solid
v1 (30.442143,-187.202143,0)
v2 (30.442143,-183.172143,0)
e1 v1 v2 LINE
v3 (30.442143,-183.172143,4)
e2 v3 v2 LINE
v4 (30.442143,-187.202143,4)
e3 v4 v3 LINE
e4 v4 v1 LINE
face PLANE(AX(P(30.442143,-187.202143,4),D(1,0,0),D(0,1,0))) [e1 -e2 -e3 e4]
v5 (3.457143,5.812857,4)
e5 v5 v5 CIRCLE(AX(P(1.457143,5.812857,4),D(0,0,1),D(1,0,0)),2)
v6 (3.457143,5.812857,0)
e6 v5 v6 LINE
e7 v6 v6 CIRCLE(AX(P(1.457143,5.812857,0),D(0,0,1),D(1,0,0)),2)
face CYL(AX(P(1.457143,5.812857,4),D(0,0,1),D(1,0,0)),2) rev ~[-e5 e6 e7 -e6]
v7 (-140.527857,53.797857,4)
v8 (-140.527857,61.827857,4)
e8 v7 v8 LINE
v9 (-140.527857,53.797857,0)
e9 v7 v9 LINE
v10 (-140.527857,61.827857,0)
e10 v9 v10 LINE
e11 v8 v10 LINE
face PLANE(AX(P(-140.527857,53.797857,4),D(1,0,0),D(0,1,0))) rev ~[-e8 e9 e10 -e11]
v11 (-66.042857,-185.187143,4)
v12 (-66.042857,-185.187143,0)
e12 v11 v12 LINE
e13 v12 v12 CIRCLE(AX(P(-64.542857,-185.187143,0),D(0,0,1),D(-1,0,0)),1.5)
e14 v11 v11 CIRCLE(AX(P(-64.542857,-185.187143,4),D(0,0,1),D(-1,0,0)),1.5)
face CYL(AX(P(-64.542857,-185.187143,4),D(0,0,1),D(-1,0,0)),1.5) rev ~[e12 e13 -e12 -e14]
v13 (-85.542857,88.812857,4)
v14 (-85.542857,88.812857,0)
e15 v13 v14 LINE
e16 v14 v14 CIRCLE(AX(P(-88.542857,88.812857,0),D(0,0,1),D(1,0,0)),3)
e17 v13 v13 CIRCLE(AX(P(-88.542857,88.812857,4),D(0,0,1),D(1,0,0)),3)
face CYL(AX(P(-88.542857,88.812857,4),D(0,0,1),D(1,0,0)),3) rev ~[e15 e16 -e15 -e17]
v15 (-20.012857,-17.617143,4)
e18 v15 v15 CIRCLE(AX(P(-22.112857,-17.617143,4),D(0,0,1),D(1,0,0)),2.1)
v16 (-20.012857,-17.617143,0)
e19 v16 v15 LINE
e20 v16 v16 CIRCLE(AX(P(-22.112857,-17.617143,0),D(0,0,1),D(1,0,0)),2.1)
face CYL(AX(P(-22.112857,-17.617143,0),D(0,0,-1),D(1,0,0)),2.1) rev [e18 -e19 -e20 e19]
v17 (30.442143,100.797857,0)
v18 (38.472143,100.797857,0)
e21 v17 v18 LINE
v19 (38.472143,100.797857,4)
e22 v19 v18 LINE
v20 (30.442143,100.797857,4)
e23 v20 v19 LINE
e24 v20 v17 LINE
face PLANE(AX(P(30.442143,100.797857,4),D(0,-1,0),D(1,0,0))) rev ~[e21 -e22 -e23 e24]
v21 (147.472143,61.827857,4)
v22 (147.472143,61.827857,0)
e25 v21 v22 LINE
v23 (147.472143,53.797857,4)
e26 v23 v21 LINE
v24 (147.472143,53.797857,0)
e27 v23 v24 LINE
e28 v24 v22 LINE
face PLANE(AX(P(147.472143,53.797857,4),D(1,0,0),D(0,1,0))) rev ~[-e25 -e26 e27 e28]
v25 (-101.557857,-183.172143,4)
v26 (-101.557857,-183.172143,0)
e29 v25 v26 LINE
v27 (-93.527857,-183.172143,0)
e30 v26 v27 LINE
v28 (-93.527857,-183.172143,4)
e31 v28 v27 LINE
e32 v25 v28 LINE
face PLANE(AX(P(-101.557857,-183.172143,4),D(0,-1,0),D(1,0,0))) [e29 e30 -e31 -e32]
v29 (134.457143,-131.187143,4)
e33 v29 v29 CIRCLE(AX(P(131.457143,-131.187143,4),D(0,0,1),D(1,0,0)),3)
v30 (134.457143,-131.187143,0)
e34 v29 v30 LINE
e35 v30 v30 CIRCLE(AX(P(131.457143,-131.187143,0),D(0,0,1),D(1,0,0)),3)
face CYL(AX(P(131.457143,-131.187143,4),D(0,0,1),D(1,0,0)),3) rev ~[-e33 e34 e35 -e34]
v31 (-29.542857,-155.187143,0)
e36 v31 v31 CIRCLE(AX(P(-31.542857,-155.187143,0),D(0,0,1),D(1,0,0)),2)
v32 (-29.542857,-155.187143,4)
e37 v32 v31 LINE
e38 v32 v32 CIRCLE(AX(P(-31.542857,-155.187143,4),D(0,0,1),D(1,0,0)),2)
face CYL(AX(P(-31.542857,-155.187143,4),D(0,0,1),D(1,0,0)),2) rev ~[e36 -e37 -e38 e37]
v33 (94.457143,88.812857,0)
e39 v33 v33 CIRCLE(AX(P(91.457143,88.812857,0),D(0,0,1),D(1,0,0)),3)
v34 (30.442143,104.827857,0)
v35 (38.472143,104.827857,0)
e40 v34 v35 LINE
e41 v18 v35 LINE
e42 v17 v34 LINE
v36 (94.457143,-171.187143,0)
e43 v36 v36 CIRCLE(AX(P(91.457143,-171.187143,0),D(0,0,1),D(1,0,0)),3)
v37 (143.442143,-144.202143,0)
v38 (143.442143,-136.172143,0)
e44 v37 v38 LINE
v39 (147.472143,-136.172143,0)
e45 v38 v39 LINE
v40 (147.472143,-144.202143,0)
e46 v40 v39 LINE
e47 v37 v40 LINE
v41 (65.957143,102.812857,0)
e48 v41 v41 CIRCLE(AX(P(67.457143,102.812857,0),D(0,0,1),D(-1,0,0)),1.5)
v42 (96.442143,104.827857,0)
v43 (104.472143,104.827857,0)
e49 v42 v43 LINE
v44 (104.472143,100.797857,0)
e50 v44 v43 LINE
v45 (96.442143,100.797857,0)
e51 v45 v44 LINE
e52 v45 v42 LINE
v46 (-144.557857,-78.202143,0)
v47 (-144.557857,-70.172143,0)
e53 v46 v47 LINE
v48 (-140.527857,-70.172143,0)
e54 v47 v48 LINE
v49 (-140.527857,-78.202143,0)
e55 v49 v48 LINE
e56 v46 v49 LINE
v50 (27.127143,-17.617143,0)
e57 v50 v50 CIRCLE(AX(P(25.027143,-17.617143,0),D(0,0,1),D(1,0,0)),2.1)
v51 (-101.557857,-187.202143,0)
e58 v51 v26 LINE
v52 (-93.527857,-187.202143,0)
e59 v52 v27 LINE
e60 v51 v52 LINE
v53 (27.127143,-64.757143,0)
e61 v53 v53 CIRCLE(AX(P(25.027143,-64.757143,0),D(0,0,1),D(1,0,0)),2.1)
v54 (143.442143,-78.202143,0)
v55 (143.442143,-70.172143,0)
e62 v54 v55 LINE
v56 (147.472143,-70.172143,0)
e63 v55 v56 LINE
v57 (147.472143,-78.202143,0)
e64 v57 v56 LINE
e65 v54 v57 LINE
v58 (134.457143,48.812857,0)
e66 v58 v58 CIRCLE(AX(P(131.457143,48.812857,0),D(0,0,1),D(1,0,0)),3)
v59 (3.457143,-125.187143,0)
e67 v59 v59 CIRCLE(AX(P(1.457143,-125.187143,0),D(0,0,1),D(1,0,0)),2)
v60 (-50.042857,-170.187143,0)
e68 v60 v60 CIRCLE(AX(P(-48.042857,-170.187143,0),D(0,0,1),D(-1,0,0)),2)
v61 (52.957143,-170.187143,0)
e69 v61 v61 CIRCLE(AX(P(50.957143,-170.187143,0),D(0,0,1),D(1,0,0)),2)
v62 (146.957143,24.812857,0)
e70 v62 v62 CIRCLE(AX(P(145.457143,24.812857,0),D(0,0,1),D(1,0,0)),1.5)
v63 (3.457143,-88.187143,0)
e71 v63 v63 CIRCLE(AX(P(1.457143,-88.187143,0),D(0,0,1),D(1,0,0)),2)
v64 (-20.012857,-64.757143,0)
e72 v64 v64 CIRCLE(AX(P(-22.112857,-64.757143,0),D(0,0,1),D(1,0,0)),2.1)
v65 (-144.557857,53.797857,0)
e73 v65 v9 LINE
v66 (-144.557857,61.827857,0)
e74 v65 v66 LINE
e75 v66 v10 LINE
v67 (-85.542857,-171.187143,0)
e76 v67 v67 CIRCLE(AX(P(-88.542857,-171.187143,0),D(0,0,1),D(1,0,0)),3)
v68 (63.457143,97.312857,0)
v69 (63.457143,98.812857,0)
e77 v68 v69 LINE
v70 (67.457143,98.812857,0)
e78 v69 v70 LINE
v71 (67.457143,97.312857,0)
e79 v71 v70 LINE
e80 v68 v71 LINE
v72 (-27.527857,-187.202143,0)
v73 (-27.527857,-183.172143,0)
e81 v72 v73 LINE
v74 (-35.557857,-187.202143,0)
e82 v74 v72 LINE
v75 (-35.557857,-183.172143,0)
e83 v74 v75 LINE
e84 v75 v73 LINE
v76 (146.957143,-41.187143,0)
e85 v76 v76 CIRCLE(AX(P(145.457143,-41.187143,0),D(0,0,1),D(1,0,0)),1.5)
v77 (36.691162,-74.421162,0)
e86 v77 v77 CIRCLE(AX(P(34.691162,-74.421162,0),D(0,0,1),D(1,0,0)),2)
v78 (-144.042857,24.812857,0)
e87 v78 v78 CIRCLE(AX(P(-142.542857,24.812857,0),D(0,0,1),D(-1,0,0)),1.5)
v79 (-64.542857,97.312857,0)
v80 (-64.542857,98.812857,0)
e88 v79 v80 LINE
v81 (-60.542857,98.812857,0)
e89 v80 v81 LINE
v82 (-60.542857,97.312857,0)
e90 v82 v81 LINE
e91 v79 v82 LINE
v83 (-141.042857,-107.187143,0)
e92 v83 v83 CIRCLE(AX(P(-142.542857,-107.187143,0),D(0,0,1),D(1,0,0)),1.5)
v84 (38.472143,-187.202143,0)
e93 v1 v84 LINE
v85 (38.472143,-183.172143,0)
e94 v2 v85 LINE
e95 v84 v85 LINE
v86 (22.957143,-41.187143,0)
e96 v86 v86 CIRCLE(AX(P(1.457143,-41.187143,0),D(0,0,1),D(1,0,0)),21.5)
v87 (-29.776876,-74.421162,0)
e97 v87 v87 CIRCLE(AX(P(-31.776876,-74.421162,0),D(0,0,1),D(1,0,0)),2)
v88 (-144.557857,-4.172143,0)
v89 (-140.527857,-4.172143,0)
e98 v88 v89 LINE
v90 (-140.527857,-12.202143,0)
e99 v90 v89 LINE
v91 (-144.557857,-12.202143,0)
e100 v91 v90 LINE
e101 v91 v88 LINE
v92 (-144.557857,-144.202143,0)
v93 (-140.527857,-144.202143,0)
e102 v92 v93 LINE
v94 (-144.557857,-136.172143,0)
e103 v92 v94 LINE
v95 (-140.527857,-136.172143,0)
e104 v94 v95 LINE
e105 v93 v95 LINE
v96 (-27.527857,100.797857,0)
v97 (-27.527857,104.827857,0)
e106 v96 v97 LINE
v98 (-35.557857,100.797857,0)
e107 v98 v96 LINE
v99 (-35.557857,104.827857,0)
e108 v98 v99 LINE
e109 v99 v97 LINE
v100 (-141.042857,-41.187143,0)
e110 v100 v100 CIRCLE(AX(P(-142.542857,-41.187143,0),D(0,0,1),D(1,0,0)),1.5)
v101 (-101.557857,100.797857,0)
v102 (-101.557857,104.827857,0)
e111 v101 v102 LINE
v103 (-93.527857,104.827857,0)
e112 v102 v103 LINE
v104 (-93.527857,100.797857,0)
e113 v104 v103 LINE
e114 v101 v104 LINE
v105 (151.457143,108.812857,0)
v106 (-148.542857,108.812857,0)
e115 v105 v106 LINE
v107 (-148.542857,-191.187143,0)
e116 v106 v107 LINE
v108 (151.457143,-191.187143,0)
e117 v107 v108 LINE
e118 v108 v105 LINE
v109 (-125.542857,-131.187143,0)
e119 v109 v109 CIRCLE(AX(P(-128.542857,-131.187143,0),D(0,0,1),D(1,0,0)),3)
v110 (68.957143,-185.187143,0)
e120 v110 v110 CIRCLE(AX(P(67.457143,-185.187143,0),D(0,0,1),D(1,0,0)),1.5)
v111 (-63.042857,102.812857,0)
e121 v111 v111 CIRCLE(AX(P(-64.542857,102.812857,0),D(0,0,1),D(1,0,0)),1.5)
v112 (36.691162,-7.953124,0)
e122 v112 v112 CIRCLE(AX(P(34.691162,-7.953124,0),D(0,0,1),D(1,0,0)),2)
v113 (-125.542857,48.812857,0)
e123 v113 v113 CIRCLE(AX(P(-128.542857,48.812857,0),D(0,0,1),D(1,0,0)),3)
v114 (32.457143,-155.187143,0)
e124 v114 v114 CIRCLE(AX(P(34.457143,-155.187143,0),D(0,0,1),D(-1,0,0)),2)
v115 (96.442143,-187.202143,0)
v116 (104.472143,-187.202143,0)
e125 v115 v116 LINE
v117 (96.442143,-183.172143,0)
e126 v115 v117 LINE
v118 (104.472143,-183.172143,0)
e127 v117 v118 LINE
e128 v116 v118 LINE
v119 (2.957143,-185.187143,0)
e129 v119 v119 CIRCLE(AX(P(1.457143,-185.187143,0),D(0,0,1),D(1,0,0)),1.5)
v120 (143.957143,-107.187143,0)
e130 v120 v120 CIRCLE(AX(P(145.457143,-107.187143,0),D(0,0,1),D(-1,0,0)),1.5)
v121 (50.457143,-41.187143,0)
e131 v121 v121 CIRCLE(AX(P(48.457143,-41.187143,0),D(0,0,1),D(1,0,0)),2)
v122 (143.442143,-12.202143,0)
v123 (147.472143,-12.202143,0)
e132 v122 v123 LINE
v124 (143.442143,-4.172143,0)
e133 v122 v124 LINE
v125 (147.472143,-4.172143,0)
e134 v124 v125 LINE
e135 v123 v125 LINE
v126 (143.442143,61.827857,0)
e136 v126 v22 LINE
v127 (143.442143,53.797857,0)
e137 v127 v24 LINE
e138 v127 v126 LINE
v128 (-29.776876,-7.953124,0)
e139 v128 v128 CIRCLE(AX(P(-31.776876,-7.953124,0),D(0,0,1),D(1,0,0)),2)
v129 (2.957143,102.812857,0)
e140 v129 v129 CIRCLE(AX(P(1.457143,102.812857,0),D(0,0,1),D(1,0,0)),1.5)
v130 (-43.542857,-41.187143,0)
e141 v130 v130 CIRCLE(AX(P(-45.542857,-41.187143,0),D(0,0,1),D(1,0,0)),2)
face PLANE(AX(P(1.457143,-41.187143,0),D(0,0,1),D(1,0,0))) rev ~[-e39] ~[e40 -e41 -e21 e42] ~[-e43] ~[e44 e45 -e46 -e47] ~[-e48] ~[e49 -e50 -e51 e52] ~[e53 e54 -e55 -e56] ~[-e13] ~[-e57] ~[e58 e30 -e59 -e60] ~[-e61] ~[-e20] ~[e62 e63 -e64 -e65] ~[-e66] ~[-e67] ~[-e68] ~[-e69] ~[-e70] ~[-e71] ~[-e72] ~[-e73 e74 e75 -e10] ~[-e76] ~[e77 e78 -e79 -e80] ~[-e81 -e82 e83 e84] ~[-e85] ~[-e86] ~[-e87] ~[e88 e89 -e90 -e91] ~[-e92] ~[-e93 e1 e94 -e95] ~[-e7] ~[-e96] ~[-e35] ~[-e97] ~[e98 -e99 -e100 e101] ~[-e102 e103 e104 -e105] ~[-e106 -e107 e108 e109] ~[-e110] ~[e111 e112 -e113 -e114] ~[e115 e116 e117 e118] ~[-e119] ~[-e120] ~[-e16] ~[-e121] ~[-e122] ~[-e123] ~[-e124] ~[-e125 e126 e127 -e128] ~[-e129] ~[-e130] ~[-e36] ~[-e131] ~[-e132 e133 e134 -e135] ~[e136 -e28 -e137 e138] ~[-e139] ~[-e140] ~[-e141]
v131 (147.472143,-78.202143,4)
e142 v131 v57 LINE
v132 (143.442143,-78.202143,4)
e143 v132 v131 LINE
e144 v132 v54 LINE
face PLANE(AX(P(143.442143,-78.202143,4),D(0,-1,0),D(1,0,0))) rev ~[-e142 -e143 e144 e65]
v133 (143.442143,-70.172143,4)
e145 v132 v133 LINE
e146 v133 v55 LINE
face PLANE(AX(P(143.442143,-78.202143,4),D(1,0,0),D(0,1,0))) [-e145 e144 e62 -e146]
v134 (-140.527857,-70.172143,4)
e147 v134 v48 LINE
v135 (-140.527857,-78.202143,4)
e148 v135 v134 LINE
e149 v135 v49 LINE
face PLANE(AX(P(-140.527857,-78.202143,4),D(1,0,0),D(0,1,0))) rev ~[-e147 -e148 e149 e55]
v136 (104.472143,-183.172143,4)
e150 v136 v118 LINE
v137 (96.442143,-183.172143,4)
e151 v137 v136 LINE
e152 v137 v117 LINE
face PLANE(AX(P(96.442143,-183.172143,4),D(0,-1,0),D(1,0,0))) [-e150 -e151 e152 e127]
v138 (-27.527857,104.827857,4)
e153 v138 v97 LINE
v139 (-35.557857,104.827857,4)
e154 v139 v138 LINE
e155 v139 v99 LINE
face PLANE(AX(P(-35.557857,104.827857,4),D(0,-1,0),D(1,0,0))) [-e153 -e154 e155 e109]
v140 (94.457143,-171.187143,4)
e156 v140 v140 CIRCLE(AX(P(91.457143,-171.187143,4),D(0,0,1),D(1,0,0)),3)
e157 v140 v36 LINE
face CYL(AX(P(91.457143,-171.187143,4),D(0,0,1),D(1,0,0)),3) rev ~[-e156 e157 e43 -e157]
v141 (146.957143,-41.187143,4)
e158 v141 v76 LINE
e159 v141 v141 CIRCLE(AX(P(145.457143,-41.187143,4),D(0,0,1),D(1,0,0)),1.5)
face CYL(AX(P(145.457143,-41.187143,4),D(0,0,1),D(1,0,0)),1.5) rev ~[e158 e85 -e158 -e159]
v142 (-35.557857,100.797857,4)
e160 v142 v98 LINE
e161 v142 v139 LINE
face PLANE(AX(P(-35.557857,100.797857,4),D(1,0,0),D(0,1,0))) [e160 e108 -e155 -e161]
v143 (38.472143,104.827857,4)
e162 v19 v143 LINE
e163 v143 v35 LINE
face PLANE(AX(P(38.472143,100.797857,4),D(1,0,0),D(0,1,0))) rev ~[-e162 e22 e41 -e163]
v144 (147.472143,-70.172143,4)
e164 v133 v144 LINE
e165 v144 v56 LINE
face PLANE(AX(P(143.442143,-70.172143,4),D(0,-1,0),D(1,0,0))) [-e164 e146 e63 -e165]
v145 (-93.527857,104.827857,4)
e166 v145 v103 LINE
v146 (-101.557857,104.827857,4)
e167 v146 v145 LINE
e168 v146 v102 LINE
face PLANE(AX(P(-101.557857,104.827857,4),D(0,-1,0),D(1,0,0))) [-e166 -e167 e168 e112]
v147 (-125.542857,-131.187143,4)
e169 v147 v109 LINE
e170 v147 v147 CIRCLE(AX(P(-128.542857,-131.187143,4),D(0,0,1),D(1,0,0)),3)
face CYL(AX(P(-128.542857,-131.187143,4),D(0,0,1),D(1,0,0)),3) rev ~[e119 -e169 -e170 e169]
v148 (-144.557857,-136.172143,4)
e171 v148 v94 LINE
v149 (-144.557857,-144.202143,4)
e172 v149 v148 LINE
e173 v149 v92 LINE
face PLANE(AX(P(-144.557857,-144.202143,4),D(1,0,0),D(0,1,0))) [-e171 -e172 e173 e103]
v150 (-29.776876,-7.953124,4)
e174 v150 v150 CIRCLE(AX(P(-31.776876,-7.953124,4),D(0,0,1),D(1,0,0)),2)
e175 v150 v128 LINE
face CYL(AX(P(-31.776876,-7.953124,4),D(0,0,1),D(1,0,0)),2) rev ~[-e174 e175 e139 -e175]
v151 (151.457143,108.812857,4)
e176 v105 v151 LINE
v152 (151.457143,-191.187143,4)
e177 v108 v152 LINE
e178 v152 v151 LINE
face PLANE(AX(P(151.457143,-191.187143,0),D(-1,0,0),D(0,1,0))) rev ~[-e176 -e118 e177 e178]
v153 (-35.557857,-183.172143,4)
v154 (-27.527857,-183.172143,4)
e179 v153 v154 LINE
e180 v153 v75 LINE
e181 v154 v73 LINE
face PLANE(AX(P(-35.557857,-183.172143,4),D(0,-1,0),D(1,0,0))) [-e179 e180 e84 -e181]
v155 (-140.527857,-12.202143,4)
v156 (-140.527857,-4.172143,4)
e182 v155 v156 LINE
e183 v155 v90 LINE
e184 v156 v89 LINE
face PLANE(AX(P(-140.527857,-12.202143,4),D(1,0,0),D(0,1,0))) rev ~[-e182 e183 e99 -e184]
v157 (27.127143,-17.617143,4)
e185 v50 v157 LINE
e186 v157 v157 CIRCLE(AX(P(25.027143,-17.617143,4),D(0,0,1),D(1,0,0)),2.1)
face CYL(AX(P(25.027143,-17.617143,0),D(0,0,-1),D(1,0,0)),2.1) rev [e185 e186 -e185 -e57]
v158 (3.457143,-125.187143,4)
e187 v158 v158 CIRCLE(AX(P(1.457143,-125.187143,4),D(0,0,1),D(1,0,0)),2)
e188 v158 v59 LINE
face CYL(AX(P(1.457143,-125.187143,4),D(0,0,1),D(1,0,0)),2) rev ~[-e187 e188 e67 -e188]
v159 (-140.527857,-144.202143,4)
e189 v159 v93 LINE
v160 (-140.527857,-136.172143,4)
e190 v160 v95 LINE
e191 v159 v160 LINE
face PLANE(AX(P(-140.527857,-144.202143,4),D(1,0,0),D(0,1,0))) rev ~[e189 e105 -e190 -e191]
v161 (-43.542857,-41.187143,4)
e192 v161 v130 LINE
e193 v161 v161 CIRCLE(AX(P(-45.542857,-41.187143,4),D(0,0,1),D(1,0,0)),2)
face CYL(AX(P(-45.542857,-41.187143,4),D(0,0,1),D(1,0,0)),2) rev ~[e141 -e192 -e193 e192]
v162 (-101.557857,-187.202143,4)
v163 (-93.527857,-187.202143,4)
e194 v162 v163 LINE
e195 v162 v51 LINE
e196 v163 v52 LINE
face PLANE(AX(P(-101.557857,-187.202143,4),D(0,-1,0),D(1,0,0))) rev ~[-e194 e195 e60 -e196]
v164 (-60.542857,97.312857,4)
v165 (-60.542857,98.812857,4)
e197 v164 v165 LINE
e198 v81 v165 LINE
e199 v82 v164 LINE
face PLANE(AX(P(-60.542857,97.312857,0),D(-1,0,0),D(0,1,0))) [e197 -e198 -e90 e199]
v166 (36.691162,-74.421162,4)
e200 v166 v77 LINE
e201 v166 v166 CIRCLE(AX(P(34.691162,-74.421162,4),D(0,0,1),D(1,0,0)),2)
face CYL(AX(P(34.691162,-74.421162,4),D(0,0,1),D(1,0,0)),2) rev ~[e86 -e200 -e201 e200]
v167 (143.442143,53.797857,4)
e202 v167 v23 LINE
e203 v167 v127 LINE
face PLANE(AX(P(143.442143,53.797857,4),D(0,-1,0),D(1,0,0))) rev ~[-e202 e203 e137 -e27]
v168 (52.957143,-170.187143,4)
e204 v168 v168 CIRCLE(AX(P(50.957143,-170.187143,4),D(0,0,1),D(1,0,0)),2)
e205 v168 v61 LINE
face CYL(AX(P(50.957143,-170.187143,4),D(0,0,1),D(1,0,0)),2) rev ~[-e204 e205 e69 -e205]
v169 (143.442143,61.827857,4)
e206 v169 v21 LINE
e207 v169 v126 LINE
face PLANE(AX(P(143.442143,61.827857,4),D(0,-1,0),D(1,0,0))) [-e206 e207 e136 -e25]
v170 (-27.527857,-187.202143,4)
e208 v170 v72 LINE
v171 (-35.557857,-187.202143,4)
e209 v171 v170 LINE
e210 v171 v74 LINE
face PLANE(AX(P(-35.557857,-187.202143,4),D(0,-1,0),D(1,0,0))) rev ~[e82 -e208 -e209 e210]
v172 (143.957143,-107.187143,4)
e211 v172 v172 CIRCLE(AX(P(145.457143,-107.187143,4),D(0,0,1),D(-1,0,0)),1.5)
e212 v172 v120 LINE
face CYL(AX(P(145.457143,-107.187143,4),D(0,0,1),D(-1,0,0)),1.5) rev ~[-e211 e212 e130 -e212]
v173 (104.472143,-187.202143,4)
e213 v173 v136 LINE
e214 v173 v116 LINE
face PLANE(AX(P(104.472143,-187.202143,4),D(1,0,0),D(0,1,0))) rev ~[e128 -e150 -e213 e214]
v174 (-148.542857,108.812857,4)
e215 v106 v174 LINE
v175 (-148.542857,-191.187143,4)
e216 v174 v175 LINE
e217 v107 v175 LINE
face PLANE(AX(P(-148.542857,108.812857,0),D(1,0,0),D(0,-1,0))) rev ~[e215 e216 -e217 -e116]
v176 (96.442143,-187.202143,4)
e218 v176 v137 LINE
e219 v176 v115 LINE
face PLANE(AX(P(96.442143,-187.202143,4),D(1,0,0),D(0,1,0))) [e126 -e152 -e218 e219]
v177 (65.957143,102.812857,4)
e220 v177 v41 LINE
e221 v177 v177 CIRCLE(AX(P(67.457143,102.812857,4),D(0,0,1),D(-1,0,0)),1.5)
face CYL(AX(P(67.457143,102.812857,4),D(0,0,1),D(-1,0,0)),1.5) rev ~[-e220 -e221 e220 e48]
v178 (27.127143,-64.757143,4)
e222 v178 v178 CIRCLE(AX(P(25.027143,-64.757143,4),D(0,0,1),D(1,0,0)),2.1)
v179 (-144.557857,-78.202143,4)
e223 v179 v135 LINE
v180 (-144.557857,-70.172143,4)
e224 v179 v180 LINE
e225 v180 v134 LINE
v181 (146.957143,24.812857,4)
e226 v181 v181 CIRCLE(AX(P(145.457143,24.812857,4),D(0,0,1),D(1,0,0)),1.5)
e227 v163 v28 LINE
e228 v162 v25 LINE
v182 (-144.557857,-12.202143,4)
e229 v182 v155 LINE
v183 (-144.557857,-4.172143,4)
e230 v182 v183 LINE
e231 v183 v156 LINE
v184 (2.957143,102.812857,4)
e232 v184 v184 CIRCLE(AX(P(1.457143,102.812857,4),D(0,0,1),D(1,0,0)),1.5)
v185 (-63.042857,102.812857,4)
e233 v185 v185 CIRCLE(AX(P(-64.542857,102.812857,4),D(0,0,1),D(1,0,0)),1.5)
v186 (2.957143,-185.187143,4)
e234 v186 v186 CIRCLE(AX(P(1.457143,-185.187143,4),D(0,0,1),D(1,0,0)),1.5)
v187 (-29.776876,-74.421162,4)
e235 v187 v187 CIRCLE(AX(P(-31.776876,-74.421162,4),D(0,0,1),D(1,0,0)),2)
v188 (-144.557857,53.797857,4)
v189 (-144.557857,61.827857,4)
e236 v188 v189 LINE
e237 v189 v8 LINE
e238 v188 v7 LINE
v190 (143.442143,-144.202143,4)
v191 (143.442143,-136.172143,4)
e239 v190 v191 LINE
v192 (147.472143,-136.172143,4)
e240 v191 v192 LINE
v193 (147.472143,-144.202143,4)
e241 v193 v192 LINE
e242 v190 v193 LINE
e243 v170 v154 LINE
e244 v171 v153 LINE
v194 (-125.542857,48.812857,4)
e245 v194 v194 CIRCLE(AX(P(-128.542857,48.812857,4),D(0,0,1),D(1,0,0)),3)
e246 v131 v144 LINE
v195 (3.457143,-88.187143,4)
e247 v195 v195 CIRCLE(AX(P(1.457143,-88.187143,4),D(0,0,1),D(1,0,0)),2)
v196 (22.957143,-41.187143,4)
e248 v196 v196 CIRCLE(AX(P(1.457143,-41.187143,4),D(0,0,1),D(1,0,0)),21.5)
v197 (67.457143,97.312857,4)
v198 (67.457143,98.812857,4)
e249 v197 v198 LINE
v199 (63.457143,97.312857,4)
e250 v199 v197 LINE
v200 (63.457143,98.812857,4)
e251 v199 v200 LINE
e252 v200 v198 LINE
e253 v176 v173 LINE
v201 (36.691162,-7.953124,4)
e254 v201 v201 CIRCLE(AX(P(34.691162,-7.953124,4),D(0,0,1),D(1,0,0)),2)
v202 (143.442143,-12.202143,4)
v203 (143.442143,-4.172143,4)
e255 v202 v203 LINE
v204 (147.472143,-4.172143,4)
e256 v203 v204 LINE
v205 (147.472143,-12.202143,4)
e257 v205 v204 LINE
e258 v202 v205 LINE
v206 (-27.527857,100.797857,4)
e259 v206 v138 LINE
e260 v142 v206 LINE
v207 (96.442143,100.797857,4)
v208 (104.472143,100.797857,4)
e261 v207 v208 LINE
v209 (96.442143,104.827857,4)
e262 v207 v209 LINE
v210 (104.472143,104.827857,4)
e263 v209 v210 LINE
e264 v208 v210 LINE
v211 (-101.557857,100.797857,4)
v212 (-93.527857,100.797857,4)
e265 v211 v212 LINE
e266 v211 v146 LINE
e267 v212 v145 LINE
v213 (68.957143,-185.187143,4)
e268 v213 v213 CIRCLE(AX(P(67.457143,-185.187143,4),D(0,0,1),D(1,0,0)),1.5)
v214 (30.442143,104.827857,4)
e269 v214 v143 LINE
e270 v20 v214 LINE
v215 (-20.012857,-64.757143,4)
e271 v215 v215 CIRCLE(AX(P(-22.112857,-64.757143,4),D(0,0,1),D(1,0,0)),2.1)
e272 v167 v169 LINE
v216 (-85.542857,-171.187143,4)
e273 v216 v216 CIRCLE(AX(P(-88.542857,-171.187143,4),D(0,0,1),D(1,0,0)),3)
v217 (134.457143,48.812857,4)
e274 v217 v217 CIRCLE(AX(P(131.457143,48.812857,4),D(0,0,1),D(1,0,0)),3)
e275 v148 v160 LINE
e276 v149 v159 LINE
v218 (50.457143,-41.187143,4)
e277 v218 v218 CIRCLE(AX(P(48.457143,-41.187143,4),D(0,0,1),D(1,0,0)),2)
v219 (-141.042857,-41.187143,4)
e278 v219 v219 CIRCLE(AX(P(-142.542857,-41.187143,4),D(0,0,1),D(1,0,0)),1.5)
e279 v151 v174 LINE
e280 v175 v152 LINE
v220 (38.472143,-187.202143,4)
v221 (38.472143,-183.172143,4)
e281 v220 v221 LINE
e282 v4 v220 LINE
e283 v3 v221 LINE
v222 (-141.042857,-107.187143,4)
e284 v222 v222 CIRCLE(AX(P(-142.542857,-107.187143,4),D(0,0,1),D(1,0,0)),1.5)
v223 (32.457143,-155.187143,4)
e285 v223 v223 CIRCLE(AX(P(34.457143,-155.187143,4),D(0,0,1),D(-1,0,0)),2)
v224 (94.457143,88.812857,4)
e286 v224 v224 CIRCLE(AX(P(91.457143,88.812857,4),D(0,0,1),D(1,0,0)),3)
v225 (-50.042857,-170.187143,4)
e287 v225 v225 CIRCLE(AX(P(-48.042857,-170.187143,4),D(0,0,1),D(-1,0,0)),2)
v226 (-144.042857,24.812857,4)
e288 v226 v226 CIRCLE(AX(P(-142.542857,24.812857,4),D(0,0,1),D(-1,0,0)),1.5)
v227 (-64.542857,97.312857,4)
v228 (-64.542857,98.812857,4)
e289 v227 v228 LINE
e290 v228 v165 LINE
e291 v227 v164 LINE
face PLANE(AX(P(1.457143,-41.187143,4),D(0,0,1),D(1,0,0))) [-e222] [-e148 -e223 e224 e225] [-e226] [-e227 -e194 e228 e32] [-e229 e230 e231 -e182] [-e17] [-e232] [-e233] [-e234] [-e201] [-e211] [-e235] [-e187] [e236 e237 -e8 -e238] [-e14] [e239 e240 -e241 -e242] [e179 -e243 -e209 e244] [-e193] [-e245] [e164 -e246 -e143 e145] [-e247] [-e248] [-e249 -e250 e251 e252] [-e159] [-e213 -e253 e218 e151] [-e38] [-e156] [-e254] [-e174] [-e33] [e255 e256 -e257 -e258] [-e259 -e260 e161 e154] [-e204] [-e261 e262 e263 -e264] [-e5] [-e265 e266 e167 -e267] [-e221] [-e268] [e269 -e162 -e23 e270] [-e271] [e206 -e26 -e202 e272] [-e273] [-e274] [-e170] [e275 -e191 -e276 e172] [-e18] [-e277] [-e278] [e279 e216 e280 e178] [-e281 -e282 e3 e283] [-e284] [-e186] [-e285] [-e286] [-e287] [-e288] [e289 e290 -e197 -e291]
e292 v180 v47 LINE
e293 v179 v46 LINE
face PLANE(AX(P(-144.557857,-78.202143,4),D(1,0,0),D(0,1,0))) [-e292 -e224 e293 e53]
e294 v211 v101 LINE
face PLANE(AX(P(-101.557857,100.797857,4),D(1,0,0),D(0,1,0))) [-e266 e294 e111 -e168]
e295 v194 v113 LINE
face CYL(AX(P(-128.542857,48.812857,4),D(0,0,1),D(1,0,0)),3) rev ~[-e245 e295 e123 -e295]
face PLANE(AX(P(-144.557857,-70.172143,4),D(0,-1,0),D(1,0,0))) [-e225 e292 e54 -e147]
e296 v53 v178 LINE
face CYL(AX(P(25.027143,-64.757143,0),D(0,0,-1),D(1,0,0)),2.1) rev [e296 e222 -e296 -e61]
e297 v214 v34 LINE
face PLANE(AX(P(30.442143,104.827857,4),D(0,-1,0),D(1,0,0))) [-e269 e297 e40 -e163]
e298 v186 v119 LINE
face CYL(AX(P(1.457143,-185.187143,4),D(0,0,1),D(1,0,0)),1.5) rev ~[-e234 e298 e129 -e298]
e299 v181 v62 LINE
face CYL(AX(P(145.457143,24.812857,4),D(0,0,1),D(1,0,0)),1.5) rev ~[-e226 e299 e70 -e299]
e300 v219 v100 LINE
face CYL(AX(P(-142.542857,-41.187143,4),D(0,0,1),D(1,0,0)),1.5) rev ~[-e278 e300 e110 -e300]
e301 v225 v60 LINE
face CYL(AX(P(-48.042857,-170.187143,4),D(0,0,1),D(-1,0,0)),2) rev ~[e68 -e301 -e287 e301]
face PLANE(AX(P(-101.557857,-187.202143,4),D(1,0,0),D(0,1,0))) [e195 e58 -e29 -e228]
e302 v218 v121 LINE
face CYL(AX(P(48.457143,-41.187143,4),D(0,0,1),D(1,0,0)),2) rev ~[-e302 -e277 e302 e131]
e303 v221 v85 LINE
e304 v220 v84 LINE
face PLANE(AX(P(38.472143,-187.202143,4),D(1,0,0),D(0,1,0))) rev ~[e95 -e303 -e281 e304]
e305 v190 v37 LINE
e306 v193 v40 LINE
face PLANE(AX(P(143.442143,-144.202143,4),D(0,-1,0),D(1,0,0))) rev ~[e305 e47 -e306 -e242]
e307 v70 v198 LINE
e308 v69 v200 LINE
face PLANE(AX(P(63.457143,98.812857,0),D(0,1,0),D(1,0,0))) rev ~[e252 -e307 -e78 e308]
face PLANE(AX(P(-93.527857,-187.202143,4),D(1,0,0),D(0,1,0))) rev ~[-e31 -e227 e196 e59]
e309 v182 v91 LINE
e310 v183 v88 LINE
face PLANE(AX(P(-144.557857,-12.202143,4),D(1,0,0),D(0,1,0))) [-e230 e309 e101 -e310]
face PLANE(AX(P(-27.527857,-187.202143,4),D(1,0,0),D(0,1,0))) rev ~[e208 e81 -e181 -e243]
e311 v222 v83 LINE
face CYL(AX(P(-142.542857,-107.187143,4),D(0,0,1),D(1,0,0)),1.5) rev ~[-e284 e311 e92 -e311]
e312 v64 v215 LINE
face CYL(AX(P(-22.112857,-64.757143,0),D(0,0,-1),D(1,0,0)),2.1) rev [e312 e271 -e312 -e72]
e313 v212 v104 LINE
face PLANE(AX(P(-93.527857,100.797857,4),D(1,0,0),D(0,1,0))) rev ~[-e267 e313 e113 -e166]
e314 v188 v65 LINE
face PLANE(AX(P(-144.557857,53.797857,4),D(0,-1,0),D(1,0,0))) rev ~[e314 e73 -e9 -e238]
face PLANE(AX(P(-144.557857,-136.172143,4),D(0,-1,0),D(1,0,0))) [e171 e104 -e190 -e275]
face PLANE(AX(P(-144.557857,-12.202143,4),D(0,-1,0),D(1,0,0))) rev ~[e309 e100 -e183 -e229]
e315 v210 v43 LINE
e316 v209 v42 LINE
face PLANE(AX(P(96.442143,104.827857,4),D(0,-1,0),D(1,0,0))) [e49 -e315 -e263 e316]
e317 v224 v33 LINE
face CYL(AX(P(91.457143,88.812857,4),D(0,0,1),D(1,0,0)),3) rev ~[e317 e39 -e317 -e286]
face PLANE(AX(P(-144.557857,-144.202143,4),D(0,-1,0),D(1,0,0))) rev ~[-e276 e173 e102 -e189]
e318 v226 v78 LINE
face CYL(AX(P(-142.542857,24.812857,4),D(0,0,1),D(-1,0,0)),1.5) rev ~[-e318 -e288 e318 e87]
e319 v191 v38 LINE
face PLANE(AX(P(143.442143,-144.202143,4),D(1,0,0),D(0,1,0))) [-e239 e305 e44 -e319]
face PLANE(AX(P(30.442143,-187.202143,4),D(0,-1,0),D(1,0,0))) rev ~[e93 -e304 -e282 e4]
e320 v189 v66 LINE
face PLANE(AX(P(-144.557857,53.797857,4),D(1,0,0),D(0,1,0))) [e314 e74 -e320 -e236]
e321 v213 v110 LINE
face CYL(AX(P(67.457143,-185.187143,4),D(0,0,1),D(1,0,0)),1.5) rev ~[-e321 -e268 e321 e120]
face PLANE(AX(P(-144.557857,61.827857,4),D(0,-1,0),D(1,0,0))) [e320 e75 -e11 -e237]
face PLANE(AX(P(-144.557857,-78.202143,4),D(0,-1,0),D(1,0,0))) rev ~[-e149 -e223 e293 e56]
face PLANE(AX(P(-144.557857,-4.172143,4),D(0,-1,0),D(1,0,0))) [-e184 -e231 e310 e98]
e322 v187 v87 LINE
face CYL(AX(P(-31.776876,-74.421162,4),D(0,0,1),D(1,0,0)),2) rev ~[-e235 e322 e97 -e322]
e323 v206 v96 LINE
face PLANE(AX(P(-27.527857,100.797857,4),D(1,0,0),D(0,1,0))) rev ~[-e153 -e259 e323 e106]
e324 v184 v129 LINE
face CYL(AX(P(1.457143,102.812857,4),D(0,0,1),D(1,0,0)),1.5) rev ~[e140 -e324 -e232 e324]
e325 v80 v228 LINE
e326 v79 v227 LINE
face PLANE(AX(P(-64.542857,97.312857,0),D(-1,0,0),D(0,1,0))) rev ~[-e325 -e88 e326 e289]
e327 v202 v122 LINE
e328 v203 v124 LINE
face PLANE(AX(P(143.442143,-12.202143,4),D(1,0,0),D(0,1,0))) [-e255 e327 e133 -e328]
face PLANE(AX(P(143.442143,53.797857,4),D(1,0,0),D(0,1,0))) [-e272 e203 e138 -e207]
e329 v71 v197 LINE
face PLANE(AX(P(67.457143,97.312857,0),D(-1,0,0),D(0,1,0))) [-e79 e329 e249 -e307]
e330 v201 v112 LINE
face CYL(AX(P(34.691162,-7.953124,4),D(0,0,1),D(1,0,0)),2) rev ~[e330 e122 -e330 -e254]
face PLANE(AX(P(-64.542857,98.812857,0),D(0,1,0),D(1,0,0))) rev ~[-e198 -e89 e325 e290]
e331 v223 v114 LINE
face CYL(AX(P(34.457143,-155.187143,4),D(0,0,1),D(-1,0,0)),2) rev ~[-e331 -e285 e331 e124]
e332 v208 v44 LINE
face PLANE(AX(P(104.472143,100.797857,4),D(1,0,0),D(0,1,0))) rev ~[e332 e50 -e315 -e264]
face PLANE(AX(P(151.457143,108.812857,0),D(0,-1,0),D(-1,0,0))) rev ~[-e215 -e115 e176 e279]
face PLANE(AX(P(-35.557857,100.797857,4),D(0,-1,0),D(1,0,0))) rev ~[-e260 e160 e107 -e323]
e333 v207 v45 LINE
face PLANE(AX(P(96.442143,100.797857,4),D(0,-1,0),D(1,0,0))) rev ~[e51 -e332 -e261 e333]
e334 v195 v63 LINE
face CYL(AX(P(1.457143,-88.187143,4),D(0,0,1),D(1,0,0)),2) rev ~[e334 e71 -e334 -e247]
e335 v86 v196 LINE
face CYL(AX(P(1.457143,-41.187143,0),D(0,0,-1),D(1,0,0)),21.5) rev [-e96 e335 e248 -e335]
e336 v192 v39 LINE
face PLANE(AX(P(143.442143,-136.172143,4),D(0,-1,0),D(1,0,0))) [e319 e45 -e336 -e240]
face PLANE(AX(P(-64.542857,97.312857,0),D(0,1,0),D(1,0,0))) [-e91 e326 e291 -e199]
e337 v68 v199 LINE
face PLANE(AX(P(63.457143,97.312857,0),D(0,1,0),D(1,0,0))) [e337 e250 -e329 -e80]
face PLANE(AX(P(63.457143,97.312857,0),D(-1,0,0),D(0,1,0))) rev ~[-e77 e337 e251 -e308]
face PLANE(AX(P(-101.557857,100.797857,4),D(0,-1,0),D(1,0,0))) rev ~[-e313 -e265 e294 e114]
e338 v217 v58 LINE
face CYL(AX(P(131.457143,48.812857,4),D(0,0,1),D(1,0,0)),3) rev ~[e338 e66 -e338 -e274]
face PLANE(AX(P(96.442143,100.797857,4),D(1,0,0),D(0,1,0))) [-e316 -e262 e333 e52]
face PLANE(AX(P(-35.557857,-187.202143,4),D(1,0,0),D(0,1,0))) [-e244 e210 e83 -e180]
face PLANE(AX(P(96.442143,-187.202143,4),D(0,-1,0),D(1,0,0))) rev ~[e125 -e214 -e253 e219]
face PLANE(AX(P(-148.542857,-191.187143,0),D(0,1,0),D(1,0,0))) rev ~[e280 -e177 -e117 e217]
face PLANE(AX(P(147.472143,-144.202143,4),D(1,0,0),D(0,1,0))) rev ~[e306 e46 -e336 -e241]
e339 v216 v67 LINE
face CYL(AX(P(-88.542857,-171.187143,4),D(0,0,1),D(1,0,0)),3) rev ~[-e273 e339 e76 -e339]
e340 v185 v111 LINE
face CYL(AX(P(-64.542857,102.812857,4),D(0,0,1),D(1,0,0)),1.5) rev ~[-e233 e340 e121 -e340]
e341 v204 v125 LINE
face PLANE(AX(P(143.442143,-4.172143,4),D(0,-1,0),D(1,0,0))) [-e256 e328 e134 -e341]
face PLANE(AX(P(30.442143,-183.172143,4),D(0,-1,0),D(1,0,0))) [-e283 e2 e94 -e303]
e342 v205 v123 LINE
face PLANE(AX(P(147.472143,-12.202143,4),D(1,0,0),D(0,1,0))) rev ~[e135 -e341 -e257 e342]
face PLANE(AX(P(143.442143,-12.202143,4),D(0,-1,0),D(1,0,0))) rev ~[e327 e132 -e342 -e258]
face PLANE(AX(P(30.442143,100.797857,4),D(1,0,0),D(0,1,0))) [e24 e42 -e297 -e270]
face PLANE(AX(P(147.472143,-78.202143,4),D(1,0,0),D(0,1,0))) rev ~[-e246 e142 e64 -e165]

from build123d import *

# Parameters (mm, degrees)
SKETCH_1_R          = 21.5
SKETCH_1_R_2        = 2.1
SKETCH_1_W          = 4
SKETCH_1_H          = 1.5
EXTRUDE_1_DEPTH     = 4
SKETCH_3_R          = 1.5
SKETCH_3_R_2        = 2
SKETCH_3_W          = 8.03
SKETCH_3_H          = 4.03
SKETCH_3_W_2        = 4.03
SKETCH_3_H_2        = 8.03
CUT_EXTRUDE_2_DEPTH = 4
SKETCH_7_R          = 3
CUT_EXTRUDE_3_DEPTH = 10


with BuildPart() as part:
    # 草图1 → 凸台-拉伸1 (new body)
    with BuildSketch(Plane.XY):
        Polygon((151.457142857, -41.187142857), (151.457142857, 108.812857143), (-148.542857143, 108.812857143), (-148.542857143, -191.187142857), (151.457142857, -191.187142857), align=None)
        with Locations((1.457142857, -41.187142857)):
            Circle(SKETCH_1_R, mode=Mode.SUBTRACT)
        with Locations((25.027142857, -17.617142857)):
            Circle(SKETCH_1_R_2, mode=Mode.SUBTRACT)
        with Locations((25.027142857, -64.757142857)):
            Circle(SKETCH_1_R_2, mode=Mode.SUBTRACT)
        with Locations((-22.112857143, -64.757142857)):
            Circle(SKETCH_1_R_2, mode=Mode.SUBTRACT)
        with Locations((-22.112857143, -17.617142857)):
            Circle(SKETCH_1_R_2, mode=Mode.SUBTRACT)
        with Locations((65.457142857, 98.062857143)):
            Rectangle(SKETCH_1_W, SKETCH_1_H, mode=Mode.SUBTRACT)
        with Locations((-62.542857143, 98.062857143)):
            Rectangle(SKETCH_1_W, SKETCH_1_H, mode=Mode.SUBTRACT)
    extrude(amount=EXTRUDE_1_DEPTH)

    # 草图3 → 切除-拉伸2 (cut)
    with BuildSketch(Plane.XY.offset(4)):
        with Locations((1.457142857, -185.187142857)):
            Circle(SKETCH_3_R)
        with Locations((67.457142857, -185.187142857)):
            Circle(SKETCH_3_R)
        with Locations(Location((-64.542857143, -185.187142857, 0), (0, 0, 180))):
            Circle(SKETCH_3_R)
        with Locations(Location((-142.542857143, 24.812857143, 0), (0, 0, 180))):
            Circle(SKETCH_3_R)
        with Locations((-142.542857143, -41.187142857)):
            Circle(SKETCH_3_R)
        with Locations((-142.542857143, -107.187142857)):
            Circle(SKETCH_3_R)
        with Locations(Location((67.457142857, 102.812857143, 0), (0, 0, 180))):
            Circle(SKETCH_3_R)
        with Locations((1.457142857, 102.812857143)):
            Circle(SKETCH_3_R)
        with Locations((-64.542857143, 102.812857143)):
            Circle(SKETCH_3_R)
        with Locations(Location((145.457142857, -107.187142857, 0), (0, 0, 180))):
            Circle(SKETCH_3_R)
        with Locations((145.457142857, -41.187142857)):
            Circle(SKETCH_3_R)
        with Locations((145.457142857, 24.812857143)):
            Circle(SKETCH_3_R)
        with Locations((50.957142857, -170.187142857)):
            Circle(SKETCH_3_R_2)
        with Locations(Location((-48.042857143, -170.187142857, 0), (0, 0, 180))):
            Circle(SKETCH_3_R_2)
        with Locations((-31.542857143, -155.187142857)):
            Circle(SKETCH_3_R_2)
        with Locations(Location((34.457142857, -155.187142857, 0), (0, 0, 180))):
            Circle(SKETCH_3_R_2)
        with Locations((1.457142857, -88.187142857)):
            Circle(SKETCH_3_R_2)
        with Locations((-31.776875859, -74.421161573)):
            Circle(SKETCH_3_R_2)
        with Locations((-45.542857143, -41.187142857)):
            Circle(SKETCH_3_R_2)
        with Locations((-31.776875859, -7.953124141)):
            Circle(SKETCH_3_R_2)
        with Locations((1.457142857, 5.812857143)):
            Circle(SKETCH_3_R_2)
        with Locations((34.691161573, -7.953124141)):
            Circle(SKETCH_3_R_2)
        with Locations((48.457142857, -41.187142857)):
            Circle(SKETCH_3_R_2)
        with Locations((34.691161573, -74.421161573)):
            Circle(SKETCH_3_R_2)
        with Locations((1.457142857, -125.187142857)):
            Circle(SKETCH_3_R_2)
        with Locations((100.457142857, -185.187142857)):
            Rectangle(SKETCH_3_W, SKETCH_3_H)
        with Locations((34.457142857, -185.187142857)):
            Rectangle(SKETCH_3_W, SKETCH_3_H)
        with Locations((-31.542857143, -185.187142857)):
            Rectangle(SKETCH_3_W, SKETCH_3_H)
        with Locations((-97.542857143, -185.187142857)):
            Rectangle(SKETCH_3_W, SKETCH_3_H)
        with Locations((-142.542857143, 57.812857143)):
            Rectangle(SKETCH_3_W_2, SKETCH_3_H_2)
        with Locations((-142.542857143, -8.187142857)):
            Rectangle(SKETCH_3_W_2, SKETCH_3_H_2)
        with Locations((-142.542857143, -74.187142857)):
            Rectangle(SKETCH_3_W_2, SKETCH_3_H_2)
        with Locations((-142.542857143, -140.187142857)):
            Rectangle(SKETCH_3_W_2, SKETCH_3_H_2)
        with Locations((100.457142857, 102.812857143)):
            Rectangle(SKETCH_3_W, SKETCH_3_H)
        with Locations((34.457142857, 102.812857143)):
            Rectangle(SKETCH_3_W, SKETCH_3_H)
        with Locations((-31.542857143, 102.812857143)):
            Rectangle(SKETCH_3_W, SKETCH_3_H)
        with Locations((-97.542857143, 102.812857143)):
            Rectangle(SKETCH_3_W, SKETCH_3_H)
        with Locations((145.457142857, -140.187142857)):
            Rectangle(SKETCH_3_W_2, SKETCH_3_H_2)
        with Locations((145.457142857, -74.187142857)):
            Rectangle(SKETCH_3_W_2, SKETCH_3_H_2)
        with Locations((145.457142857, -8.187142857)):
            Rectangle(SKETCH_3_W_2, SKETCH_3_H_2)
        with Locations((145.457142857, 57.812857143)):
            Rectangle(SKETCH_3_W_2, SKETCH_3_H_2)
    extrude(amount=-CUT_EXTRUDE_2_DEPTH, mode=Mode.SUBTRACT)

    # 草图7 → 切除-拉伸3 (cut)
    with BuildSketch(Plane.XY.offset(4)):
        with Locations((-88.542857143, -171.187142857)):
            Circle(SKETCH_7_R)
        with Locations((91.457142857, -171.187142857)):
            Circle(SKETCH_7_R)
        with Locations((-128.542857143, 48.812857143)):
            Circle(SKETCH_7_R)
        with Locations((-128.542857143, -131.187142857)):
            Circle(SKETCH_7_R)
        with Locations((91.457142857, 88.812857143)):
            Circle(SKETCH_7_R)
        with Locations((-88.542857143, 88.812857143)):
            Circle(SKETCH_7_R)
        with Locations((131.457142857, -131.187142857)):
            Circle(SKETCH_7_R)
        with Locations((131.457142857, 48.812857143)):
            Circle(SKETCH_7_R)
    extrude(amount=-CUT_EXTRUDE_3_DEPTH, mode=Mode.SUBTRACT)


solid = part.part
